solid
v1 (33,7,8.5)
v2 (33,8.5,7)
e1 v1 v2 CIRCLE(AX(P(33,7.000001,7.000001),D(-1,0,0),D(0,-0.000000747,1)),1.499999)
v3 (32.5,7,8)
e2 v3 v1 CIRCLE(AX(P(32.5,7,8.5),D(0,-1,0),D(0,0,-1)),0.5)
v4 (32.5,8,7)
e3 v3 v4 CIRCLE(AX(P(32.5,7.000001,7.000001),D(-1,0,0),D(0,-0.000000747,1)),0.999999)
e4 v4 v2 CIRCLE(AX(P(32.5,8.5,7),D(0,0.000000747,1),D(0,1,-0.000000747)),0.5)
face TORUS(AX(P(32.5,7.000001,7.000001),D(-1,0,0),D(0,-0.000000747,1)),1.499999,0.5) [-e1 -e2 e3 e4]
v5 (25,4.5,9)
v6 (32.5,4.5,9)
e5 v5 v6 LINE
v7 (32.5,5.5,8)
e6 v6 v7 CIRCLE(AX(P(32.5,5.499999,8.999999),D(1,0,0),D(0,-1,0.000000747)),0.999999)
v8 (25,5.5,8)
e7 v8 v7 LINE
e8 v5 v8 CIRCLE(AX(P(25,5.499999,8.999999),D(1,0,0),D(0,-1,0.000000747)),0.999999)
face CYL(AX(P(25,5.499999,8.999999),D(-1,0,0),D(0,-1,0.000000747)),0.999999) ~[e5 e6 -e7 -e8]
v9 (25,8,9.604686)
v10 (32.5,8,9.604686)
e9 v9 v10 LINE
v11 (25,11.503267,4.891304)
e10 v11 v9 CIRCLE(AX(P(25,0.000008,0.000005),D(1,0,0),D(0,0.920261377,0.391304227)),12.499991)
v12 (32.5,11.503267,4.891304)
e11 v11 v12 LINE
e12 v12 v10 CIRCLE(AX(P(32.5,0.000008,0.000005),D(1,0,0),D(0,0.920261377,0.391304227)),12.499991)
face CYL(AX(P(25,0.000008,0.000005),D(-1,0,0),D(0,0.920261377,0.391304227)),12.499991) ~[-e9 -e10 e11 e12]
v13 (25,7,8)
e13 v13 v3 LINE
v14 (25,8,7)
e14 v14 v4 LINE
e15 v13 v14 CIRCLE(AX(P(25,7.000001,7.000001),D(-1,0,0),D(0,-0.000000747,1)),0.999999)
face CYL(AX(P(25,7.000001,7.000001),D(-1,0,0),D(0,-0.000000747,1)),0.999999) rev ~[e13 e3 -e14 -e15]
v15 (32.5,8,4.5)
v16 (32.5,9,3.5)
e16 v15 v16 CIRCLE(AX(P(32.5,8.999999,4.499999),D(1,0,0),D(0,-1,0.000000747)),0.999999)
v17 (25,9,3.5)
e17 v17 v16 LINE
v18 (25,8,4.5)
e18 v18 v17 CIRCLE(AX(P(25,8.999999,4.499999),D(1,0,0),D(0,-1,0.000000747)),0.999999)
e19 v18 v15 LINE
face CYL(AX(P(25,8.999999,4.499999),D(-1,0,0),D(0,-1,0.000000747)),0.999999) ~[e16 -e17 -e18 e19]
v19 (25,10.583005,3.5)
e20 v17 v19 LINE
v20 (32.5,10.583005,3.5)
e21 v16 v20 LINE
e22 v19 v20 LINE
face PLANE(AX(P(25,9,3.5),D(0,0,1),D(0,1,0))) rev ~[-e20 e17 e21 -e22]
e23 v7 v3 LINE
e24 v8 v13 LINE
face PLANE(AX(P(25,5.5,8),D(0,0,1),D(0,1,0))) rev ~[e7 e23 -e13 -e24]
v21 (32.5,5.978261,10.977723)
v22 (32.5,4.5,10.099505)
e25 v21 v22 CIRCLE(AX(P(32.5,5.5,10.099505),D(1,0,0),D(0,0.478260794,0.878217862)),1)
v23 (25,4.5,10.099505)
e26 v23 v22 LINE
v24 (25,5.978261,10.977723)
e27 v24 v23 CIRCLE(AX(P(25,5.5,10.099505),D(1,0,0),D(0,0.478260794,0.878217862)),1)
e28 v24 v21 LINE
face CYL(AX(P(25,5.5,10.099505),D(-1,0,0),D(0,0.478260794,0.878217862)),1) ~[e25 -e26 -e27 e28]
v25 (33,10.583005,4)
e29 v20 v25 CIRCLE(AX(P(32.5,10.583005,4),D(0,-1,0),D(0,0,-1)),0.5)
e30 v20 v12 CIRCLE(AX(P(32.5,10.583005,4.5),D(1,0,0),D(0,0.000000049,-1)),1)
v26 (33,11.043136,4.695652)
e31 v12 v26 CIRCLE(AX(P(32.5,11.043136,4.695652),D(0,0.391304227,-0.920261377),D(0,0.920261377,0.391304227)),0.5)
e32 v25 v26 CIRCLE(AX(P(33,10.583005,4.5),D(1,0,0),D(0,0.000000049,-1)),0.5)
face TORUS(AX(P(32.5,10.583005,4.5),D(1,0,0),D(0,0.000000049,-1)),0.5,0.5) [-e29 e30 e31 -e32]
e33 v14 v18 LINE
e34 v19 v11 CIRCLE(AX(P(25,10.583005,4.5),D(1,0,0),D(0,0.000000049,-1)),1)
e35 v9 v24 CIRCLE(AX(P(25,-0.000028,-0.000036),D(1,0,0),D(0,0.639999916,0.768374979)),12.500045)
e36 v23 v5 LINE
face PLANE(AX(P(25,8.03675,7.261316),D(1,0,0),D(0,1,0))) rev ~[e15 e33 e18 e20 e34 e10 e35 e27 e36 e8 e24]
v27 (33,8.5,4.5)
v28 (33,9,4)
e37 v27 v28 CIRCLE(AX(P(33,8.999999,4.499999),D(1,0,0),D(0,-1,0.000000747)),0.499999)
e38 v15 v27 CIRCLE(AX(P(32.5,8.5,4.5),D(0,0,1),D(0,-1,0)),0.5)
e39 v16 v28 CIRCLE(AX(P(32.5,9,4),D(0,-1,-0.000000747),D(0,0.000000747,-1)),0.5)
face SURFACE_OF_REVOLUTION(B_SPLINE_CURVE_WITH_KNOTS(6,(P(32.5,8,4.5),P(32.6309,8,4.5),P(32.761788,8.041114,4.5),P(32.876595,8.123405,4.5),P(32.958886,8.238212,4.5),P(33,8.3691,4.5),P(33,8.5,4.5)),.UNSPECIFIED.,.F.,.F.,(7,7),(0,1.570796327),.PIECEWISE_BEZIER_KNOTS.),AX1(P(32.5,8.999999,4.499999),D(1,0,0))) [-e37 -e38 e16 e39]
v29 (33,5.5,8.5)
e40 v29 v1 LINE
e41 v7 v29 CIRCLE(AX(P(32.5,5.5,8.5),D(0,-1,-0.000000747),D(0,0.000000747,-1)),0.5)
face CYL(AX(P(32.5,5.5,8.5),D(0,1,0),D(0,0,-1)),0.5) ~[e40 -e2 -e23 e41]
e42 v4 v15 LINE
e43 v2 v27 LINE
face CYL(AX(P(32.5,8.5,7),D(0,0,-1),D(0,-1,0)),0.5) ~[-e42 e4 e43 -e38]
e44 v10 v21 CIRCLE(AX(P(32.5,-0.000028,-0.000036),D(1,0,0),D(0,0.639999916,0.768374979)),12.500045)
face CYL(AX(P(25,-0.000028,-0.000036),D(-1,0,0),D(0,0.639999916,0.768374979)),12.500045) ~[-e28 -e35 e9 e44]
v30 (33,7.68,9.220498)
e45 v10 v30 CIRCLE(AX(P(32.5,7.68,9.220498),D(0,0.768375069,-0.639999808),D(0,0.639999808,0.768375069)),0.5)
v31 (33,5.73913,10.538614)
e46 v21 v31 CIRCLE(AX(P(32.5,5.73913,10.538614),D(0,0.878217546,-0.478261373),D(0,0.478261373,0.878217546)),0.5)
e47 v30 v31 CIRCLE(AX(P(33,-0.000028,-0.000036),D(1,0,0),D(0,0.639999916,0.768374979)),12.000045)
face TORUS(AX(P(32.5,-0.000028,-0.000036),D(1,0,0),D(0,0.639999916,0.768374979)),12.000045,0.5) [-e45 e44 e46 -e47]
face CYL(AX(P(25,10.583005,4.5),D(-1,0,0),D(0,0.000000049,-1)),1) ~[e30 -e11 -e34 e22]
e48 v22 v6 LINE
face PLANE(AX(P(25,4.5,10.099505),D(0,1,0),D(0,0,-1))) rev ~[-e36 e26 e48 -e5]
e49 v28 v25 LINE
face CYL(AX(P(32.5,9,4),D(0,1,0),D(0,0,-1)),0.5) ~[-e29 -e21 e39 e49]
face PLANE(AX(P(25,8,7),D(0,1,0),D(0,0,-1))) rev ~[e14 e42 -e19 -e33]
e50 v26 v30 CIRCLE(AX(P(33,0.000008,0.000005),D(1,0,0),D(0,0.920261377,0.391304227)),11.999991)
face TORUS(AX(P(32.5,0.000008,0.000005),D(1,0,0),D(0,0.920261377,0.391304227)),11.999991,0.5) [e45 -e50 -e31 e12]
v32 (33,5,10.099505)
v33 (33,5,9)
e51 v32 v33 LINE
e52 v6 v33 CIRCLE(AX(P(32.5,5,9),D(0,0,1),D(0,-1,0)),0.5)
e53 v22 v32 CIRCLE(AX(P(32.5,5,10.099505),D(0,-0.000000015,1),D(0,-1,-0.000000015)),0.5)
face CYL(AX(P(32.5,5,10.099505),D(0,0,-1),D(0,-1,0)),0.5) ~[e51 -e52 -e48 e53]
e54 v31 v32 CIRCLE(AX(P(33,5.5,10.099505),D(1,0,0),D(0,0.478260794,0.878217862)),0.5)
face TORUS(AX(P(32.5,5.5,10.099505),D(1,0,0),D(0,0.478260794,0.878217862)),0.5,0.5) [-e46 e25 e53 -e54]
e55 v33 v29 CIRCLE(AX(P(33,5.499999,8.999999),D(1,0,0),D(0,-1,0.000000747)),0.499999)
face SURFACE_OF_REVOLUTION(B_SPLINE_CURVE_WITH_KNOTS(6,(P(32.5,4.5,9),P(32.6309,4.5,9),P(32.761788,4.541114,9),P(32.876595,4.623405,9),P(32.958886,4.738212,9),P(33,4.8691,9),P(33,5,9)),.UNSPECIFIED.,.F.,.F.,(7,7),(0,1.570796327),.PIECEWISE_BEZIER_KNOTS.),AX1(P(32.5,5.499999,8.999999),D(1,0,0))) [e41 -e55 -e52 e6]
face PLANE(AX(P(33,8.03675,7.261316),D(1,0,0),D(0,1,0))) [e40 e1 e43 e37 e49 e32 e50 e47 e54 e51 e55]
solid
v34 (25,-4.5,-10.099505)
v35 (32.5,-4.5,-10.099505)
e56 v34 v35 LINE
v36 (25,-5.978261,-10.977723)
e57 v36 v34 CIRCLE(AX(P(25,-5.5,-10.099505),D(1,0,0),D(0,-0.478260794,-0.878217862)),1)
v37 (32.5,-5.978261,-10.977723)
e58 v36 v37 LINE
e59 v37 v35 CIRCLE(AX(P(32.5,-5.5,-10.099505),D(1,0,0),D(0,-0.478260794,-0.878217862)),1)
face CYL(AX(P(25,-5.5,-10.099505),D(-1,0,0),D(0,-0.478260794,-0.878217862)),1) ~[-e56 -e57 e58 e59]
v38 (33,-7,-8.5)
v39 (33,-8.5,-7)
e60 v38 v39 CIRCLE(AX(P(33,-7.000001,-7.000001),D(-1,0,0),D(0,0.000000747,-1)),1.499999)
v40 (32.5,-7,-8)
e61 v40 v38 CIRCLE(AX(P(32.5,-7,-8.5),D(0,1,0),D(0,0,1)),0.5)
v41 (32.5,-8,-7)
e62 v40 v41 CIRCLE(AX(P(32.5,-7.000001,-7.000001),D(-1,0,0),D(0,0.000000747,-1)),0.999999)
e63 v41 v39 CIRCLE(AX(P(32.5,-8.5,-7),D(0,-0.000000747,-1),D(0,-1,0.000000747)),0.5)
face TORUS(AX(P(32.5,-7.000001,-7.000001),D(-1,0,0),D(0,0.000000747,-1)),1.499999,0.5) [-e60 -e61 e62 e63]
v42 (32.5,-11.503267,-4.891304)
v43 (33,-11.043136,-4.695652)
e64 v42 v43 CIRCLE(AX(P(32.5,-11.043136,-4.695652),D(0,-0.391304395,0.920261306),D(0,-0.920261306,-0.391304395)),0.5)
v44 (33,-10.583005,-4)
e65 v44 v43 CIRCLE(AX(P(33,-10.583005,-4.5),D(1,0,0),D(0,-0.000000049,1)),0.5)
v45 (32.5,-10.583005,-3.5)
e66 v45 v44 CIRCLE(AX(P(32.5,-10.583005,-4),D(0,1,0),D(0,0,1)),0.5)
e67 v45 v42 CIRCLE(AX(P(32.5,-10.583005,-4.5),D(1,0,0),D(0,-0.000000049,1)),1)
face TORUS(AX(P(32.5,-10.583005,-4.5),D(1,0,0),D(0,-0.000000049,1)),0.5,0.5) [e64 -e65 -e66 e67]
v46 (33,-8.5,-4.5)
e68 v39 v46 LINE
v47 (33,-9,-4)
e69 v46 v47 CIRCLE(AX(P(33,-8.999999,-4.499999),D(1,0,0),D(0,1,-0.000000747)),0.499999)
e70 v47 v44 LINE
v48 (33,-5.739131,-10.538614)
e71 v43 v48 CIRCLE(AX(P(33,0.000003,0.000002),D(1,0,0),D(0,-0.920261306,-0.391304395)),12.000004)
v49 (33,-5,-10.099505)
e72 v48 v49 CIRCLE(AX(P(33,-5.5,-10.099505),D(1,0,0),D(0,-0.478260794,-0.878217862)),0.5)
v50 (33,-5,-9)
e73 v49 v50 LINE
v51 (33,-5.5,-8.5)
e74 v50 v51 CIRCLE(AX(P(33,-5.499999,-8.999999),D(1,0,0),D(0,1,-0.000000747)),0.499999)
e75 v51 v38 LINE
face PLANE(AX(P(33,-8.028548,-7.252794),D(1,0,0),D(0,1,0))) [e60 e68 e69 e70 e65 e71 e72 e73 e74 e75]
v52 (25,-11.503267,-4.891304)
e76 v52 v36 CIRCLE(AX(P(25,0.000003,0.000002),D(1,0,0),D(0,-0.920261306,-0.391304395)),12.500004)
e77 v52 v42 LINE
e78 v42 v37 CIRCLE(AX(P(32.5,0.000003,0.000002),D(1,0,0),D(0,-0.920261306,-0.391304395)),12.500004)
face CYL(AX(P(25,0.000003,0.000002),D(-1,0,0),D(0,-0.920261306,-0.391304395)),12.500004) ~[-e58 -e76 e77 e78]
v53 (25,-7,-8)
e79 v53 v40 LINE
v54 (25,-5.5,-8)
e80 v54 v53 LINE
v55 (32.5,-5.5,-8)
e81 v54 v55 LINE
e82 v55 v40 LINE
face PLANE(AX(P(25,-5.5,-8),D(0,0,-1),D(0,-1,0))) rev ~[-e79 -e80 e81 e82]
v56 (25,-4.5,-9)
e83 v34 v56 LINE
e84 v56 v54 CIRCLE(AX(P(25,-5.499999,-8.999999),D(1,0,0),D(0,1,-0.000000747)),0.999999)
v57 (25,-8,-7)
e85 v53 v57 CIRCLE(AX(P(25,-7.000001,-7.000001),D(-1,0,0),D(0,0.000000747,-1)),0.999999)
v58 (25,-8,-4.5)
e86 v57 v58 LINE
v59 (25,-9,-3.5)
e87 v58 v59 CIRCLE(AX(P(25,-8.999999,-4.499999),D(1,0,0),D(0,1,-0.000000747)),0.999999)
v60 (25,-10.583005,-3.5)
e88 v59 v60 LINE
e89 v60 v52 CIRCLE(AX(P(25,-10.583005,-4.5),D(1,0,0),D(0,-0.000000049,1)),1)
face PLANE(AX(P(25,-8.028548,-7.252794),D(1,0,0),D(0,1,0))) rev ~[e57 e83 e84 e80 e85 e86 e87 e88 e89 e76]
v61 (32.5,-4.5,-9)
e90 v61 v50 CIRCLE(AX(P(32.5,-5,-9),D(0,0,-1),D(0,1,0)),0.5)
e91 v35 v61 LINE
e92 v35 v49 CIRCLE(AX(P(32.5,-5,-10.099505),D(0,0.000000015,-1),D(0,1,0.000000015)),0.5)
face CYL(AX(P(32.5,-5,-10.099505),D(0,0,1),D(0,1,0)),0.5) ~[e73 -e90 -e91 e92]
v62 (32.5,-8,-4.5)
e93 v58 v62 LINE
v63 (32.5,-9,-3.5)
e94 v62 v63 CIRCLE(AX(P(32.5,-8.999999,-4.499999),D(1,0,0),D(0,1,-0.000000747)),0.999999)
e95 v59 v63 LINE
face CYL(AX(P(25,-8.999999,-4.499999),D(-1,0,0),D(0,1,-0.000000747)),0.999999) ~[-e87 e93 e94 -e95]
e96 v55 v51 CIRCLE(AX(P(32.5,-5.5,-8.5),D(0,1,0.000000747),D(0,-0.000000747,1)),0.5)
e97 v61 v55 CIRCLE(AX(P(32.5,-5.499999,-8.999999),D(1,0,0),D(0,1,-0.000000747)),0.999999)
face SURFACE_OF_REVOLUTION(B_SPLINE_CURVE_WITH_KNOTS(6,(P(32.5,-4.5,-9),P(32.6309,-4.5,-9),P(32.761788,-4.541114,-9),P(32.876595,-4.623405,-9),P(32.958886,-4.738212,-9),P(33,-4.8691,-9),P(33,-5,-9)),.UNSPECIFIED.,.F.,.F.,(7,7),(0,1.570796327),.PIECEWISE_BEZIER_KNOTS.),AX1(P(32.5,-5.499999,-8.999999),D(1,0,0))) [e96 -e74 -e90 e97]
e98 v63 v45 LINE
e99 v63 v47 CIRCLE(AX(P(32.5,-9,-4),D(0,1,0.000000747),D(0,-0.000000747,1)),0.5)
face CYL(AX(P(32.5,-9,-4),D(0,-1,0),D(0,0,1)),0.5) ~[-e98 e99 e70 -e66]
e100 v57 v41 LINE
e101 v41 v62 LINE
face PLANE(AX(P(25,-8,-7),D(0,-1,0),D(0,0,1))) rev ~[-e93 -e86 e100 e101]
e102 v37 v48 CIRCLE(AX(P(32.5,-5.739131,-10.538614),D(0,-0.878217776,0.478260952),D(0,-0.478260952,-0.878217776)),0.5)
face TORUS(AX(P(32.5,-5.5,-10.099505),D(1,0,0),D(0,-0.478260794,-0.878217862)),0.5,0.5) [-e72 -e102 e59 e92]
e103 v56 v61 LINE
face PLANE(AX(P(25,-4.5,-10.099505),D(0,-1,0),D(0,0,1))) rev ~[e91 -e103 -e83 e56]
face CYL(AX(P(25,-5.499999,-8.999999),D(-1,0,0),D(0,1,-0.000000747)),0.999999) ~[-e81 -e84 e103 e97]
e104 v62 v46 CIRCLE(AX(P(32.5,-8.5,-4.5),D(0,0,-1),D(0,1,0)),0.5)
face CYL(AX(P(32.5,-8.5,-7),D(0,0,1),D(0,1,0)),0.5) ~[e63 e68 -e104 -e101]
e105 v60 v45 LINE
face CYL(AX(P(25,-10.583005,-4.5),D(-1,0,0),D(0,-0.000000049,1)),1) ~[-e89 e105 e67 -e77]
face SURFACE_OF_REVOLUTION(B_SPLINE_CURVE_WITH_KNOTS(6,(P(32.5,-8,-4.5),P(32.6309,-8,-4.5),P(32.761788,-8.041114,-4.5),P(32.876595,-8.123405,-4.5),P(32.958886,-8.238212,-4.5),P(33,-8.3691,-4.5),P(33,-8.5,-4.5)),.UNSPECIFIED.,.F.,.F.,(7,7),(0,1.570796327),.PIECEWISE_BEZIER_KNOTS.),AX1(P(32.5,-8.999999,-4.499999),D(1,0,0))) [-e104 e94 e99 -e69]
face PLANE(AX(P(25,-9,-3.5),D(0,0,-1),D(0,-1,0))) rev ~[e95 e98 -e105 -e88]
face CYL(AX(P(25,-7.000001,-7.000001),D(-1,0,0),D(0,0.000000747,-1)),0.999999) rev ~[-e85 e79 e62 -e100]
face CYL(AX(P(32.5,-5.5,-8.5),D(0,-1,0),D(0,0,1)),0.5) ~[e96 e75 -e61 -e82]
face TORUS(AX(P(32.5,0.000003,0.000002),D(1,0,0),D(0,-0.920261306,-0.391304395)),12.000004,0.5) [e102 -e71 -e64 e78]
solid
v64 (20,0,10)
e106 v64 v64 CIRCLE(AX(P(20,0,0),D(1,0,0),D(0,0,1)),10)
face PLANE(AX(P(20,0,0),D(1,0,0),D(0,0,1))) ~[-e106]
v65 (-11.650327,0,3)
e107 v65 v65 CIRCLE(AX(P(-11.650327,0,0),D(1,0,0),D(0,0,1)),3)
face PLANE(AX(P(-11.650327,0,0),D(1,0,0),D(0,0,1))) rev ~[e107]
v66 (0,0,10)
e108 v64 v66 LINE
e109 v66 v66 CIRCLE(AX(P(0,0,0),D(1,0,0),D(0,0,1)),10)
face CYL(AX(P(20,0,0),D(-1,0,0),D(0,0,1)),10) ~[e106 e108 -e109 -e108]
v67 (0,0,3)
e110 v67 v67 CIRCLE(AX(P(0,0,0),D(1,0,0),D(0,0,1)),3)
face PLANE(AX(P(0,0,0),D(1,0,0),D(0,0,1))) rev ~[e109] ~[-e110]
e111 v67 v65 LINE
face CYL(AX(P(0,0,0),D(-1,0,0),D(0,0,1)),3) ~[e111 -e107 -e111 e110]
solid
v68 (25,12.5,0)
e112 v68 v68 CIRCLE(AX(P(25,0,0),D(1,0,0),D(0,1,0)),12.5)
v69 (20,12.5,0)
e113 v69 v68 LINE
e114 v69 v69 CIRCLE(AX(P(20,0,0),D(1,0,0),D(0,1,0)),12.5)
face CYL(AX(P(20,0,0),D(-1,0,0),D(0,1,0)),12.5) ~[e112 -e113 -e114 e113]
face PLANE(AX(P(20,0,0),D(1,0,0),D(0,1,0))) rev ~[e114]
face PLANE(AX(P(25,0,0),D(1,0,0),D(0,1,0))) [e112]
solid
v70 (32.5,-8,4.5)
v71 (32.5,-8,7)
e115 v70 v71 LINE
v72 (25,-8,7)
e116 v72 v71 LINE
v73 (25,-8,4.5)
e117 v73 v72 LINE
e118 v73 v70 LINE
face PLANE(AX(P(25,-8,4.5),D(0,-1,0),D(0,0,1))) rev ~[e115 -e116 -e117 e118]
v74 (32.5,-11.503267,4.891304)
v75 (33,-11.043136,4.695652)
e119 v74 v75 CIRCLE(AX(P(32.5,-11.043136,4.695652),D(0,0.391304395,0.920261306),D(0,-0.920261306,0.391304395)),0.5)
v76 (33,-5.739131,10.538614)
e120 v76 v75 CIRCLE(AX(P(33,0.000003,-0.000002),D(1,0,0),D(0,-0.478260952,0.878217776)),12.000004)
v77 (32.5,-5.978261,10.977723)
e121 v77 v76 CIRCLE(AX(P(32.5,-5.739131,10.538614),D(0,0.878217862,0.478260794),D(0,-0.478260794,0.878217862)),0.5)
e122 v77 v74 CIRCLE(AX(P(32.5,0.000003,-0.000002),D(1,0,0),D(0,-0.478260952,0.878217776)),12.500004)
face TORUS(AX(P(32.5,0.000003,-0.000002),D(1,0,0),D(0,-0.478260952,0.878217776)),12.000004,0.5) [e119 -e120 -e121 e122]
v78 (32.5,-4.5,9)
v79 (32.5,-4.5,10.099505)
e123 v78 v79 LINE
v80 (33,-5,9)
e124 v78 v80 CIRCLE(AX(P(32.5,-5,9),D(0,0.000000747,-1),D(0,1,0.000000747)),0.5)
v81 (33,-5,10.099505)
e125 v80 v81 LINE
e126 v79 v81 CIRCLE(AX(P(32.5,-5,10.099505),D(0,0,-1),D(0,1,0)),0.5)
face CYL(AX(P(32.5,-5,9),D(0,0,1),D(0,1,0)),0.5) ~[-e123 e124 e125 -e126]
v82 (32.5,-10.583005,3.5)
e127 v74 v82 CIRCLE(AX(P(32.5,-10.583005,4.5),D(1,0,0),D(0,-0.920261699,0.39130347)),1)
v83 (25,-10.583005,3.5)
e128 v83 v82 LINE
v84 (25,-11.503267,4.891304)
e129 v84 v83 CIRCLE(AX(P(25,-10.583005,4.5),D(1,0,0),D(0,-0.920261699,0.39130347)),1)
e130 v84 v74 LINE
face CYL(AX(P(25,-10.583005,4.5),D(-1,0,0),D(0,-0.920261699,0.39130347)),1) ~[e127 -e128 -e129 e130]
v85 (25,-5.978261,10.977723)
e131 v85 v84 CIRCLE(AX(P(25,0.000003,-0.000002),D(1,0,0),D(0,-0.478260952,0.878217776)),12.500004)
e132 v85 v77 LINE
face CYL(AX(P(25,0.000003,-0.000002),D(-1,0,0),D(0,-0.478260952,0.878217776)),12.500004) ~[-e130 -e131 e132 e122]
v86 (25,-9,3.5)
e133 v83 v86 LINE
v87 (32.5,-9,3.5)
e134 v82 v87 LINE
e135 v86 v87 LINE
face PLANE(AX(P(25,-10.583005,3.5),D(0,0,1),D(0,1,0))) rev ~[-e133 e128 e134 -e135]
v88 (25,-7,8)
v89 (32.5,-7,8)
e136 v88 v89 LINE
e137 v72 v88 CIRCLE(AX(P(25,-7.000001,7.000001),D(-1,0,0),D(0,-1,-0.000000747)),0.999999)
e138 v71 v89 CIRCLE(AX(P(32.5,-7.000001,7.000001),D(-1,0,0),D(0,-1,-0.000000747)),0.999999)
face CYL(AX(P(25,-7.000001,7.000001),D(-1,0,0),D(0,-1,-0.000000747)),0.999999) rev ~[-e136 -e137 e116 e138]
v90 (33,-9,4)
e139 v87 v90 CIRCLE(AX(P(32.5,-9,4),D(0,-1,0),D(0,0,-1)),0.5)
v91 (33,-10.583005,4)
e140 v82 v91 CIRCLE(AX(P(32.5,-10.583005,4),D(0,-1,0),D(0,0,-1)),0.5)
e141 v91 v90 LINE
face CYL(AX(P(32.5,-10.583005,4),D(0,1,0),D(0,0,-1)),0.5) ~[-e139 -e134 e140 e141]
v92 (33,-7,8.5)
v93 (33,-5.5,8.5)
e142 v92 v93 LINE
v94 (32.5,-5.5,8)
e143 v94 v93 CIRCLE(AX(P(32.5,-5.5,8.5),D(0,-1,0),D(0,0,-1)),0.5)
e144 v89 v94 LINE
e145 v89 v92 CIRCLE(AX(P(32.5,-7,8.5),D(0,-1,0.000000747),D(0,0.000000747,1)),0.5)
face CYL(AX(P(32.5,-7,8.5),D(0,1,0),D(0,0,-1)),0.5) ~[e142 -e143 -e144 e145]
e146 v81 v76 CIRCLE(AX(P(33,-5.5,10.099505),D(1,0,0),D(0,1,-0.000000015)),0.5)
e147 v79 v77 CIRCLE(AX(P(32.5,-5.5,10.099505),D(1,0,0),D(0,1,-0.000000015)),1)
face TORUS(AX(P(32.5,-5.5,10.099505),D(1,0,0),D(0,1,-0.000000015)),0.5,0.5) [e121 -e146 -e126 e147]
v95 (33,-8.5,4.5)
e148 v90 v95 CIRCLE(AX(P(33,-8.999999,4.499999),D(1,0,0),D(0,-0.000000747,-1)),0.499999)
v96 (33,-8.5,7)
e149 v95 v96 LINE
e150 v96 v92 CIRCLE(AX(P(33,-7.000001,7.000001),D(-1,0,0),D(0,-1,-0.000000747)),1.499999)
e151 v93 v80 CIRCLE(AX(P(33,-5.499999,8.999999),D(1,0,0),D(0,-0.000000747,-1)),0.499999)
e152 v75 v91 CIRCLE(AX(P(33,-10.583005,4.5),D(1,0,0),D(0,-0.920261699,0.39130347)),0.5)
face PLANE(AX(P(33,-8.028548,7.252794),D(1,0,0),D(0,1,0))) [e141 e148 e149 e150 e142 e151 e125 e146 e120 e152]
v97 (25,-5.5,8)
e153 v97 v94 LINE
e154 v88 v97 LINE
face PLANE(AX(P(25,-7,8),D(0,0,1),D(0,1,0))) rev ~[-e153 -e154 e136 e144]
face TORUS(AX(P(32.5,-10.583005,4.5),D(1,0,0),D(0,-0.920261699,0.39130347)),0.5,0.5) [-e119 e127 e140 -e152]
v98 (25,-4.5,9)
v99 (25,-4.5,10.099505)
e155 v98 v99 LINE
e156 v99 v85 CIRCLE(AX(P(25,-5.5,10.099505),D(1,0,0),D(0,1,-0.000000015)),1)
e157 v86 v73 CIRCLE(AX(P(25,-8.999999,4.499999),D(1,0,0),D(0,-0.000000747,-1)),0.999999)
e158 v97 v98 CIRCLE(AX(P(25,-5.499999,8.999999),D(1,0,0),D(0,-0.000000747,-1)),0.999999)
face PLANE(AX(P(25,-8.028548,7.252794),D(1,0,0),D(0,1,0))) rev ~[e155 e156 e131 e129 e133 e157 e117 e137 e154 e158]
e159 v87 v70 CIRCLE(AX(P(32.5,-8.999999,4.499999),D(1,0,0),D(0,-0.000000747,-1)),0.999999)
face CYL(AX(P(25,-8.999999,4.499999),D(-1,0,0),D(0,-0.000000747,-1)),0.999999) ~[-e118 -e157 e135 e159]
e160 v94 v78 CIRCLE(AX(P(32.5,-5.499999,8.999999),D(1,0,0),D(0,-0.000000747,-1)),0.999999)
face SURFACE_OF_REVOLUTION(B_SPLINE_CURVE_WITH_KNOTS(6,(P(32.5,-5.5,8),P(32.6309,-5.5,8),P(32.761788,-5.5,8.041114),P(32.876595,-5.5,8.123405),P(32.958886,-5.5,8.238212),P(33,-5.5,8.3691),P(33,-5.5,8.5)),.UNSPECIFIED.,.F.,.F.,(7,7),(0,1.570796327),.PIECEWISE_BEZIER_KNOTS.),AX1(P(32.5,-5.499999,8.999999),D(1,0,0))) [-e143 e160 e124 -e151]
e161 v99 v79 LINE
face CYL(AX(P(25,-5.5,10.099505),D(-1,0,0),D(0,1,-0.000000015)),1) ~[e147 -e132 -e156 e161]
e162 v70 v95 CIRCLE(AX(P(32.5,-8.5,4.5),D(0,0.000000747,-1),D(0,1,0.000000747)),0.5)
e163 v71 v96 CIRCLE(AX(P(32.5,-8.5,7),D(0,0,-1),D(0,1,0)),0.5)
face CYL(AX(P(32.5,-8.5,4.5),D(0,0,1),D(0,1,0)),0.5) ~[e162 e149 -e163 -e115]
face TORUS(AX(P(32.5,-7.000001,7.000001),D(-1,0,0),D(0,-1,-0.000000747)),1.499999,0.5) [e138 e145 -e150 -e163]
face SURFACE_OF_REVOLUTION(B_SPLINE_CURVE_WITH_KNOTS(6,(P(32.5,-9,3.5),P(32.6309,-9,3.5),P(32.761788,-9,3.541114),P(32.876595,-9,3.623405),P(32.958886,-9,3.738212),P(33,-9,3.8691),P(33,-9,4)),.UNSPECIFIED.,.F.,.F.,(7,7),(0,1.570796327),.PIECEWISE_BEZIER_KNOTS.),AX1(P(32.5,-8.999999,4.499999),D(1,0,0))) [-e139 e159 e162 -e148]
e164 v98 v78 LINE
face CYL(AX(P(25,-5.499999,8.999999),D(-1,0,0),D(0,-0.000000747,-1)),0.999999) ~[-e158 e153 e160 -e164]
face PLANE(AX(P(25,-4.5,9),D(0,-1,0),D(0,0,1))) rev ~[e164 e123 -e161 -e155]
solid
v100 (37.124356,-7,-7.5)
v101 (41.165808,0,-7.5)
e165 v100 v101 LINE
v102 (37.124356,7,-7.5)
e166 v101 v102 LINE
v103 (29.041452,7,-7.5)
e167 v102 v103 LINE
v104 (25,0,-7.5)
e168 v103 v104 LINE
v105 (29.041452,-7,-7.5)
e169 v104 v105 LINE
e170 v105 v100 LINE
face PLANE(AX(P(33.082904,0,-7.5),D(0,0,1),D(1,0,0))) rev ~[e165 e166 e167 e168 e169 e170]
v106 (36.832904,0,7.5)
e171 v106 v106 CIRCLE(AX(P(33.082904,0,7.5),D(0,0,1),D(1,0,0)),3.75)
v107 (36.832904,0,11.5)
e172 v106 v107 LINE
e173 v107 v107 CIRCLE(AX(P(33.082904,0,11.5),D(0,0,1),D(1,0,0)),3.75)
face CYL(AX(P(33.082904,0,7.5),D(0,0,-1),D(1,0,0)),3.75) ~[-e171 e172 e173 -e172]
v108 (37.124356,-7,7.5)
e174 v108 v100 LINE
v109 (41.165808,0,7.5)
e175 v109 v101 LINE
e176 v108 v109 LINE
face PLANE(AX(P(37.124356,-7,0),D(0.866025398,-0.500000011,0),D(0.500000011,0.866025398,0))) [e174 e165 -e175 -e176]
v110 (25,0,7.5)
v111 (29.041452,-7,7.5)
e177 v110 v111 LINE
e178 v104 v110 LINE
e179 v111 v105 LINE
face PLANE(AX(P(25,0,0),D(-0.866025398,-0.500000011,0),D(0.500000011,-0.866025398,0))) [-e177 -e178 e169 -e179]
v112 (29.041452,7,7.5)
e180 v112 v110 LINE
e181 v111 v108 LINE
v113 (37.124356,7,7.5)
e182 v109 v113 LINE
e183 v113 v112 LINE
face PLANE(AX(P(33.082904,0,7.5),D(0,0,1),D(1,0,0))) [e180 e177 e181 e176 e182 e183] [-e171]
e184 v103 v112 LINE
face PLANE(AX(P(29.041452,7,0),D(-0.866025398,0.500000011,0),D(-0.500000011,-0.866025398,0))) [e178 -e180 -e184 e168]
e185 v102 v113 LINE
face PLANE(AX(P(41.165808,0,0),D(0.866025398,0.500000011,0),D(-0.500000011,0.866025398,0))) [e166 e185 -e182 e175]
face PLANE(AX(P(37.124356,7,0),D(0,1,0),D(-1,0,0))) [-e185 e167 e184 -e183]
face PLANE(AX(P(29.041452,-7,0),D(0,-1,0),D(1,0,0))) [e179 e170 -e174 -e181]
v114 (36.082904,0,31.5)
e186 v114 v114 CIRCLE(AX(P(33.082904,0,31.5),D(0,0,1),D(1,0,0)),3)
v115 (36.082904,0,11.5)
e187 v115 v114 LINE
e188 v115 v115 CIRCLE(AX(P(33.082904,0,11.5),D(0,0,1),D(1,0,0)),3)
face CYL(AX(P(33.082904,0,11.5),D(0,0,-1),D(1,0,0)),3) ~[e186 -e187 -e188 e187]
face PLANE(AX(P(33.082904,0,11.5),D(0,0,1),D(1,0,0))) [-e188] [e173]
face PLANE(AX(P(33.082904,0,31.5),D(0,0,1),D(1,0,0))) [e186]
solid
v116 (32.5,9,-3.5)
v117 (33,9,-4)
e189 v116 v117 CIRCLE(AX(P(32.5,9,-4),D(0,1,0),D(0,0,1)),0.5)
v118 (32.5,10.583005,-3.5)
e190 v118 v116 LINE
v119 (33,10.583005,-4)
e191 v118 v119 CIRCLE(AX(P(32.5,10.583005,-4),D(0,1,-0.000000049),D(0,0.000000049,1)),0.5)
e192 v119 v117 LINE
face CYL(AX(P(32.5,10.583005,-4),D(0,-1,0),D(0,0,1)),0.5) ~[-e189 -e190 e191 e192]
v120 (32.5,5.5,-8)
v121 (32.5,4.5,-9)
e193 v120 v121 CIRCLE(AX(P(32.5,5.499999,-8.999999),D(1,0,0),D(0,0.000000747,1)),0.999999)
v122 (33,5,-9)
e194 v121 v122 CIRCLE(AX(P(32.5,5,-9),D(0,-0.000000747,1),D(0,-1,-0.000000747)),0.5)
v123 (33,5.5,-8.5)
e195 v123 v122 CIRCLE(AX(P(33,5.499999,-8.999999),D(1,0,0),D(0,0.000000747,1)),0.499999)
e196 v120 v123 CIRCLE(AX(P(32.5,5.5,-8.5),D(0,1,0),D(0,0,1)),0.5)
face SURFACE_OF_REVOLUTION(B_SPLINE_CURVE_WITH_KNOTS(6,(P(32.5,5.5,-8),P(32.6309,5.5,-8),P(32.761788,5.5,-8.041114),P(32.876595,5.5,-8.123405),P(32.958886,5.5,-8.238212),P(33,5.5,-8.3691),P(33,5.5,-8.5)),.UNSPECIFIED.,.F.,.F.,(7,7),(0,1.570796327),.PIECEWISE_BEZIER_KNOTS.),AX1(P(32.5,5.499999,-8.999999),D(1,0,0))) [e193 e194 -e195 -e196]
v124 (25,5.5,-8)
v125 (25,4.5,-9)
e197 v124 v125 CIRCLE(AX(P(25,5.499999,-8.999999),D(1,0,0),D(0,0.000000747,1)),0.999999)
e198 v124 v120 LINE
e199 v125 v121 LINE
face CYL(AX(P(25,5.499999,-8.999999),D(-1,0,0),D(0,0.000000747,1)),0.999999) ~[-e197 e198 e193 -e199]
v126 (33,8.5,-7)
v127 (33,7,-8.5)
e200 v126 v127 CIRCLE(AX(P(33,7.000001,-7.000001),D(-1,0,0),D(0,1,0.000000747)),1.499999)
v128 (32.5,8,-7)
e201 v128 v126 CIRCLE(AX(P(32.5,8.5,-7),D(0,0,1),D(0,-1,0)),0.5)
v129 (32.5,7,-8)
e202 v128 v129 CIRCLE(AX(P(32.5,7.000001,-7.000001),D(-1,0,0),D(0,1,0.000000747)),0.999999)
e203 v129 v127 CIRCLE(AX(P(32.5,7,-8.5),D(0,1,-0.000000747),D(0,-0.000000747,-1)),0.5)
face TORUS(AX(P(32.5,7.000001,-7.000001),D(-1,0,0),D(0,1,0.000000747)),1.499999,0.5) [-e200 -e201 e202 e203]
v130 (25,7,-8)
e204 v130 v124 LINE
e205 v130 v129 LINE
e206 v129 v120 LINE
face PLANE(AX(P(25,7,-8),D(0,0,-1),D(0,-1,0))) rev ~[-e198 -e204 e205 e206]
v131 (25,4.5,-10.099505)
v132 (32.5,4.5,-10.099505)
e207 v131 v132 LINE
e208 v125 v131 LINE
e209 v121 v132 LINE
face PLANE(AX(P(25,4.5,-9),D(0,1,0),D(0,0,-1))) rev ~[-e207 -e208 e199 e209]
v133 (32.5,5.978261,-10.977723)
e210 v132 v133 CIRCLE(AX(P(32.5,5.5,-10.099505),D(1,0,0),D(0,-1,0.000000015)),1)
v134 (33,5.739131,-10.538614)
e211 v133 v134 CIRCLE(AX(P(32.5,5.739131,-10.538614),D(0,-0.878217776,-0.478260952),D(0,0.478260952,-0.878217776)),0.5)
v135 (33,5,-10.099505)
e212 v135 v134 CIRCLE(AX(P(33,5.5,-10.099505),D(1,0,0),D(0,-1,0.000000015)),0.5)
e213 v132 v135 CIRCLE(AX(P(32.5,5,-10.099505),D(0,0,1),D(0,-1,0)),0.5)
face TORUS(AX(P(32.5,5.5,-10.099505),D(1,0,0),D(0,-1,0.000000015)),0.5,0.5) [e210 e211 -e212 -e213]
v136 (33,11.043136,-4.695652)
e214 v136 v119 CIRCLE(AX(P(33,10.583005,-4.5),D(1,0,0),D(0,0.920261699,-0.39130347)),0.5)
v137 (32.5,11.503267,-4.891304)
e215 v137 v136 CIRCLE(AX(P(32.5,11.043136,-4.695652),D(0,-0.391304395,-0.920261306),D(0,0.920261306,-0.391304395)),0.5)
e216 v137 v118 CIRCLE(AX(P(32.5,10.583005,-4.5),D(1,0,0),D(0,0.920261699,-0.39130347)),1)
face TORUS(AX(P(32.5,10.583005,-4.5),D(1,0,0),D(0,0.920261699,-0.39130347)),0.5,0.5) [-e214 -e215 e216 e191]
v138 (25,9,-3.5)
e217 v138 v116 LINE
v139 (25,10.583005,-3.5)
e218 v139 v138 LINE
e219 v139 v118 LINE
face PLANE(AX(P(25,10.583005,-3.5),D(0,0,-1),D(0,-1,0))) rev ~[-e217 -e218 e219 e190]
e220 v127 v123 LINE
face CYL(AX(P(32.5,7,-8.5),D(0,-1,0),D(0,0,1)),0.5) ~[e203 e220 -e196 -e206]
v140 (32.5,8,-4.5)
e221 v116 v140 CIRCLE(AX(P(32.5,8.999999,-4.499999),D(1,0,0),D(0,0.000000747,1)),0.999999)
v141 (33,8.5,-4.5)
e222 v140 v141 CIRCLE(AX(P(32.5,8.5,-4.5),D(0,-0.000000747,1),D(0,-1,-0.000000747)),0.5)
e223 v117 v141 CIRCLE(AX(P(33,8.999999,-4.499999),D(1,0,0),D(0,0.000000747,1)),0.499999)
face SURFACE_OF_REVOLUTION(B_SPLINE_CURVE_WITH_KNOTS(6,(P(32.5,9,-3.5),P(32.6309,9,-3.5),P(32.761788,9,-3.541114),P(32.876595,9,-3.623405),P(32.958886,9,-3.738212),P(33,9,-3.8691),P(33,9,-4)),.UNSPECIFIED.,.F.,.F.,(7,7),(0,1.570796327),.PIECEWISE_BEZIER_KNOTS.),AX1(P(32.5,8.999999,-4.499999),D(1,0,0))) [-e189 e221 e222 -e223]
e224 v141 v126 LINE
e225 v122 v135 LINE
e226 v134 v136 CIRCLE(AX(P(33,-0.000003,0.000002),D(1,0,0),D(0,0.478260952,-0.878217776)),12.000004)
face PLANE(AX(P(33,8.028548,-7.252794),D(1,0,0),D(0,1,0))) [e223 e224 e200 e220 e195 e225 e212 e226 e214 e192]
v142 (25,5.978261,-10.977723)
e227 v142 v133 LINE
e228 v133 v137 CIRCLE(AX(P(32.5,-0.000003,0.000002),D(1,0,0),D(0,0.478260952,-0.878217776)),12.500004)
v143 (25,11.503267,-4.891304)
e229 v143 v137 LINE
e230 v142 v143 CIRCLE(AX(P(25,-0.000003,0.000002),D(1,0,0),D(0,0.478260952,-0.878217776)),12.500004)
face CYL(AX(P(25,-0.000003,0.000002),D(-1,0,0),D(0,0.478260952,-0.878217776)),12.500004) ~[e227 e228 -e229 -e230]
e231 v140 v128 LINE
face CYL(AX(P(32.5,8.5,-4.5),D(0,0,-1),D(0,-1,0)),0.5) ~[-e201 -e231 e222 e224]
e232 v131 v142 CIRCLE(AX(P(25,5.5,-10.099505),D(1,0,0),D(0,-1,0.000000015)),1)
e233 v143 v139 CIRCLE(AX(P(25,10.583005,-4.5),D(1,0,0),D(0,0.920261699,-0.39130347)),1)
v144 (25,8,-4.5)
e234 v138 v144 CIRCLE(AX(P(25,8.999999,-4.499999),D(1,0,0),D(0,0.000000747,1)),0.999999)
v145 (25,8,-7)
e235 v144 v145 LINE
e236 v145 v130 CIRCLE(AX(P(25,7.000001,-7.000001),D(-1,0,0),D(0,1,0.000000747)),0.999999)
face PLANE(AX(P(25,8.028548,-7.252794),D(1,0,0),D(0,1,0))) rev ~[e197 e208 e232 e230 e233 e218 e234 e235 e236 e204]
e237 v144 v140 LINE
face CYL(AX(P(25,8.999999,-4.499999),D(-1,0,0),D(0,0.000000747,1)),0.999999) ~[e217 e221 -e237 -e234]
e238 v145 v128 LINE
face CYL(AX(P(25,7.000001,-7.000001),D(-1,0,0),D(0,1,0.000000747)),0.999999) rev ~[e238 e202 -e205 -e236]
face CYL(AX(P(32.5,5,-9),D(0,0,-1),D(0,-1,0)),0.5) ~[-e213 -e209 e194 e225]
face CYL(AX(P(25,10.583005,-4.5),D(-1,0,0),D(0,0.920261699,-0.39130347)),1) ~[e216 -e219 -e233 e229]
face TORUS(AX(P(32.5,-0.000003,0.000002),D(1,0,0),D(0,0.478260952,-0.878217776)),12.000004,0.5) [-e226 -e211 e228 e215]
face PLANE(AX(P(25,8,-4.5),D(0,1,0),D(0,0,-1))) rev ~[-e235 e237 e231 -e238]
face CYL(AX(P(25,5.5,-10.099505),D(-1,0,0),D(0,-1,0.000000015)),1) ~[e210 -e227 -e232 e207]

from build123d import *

# Parameters (mm, degrees)
F4_DEPTH  = 7.5
F5_R      = 12.5
F6_DEPTH  = 5
F8_DEPTH  = 8
F9_R      = 0.5
F10_R     = 3.75
F11_DEPTH = 4
F12_R     = 3
F13_DEPTH = 20


with BuildPart() as f1:
    # F0 (on Front) → F1 (revolve)
    with BuildSketch(Plane.XZ):
        Polygon((20, 10), (0, 10), (0, 3), (-11.650327, 3), (-11.650327, 0), (0, 0), (20, 0), align=None)
    revolve(axis=Axis((25.892217, 0, 0), (1, 0, 0)))


with BuildPart() as f4:
    # F3 (on Top) → F4 (new body, symmetric)
    with BuildSketch(Plane.XY):
        Polygon((41.165808, 0), (37.124356, 7), (29.041452, 7), (25, 0), (29.041452, -7), (37.124356, -7), align=None)
    extrude(amount=F4_DEPTH, both=True)

    # F10 (on face) → F11 (join)
    with BuildSketch(Plane.XY.offset(7.5)):
        with Locations((33.082904, 0)):
            Circle(F10_R)
    extrude(amount=F11_DEPTH)

    # F12 (on face) → F13 (join)
    with BuildSketch(Plane.XY.offset(11.5)):
        with Locations((33.082904, 0)):
            Circle(F12_R)
    extrude(amount=F13_DEPTH)


with BuildPart() as f6:
    # F5 (on face) → F6 (new body)
    with BuildSketch(Plane.YZ.offset(20)):
        Circle(F5_R)
    extrude(amount=F6_DEPTH)


with BuildPart() as f8:
    # F7 (on face) → F8 (new body)
    with BuildSketch(Plane.YZ.offset(25)):
        with BuildLine():
            Line((-4.5, -10.099505), (-4.5, -9))
            ThreePointArc((-4.5, -9), (-4.792893, -8.292893), (-5.5, -8))
            Line((-5.5, -8), (-7, -8))
            ThreePointArc((-7, -8), (-7.707107, -7.707107), (-8, -7))
            Line((-8, -7), (-8, -4.5))
            ThreePointArc((-8, -4.5), (-8.292893, -3.792893), (-9, -3.5))
            Line((-9, -3.5), (-10.583005, -3.5))
            ThreePointArc((-10.583005, -3.5), (-11.417063, -3.948323), (-11.503267, -4.891304))
            ThreePointArc((-11.503267, -4.891304), (-9.255381, -8.401662), (-5.978261, -10.977723))
            ThreePointArc((-5.978261, -10.977723), (-4.989246, -10.959232), (-4.5, -10.099505))
        make_face()
        with BuildLine():
            ThreePointArc((4.5, -10.099505), (4.989246, -10.959232), (5.978261, -10.977723))
            ThreePointArc((5.978261, -10.977723), (9.255381, -8.401662), (11.503267, -4.891304))
            ThreePointArc((11.503267, -4.891304), (11.417063, -3.948323), (10.583005, -3.5))
            Line((10.583005, -3.5), (9, -3.5))
            ThreePointArc((9, -3.5), (8.292893, -3.792893), (8, -4.5))
            Line((8, -4.5), (8, -7))
            ThreePointArc((8, -7), (7.707107, -7.707107), (7, -8))
            Line((7, -8), (5.5, -8))
            ThreePointArc((5.5, -8), (4.792893, -8.292893), (4.5, -9))
            Line((4.5, -9), (4.5, -10.099505))
        make_face()
        with BuildLine():
            ThreePointArc((10.583005, 3.5), (11.417063, 3.948323), (11.503267, 4.891304))
            ThreePointArc((11.503267, 4.891304), (10.032365, 7.456652), (8, 9.604686))
            ThreePointArc((8, 9.604686), (7.022767, 10.340732), (5.978261, 10.977723))
            ThreePointArc((5.978261, 10.977723), (4.989246, 10.959232), (4.5, 10.099505))
            Line((4.5, 10.099505), (4.5, 9))
            ThreePointArc((4.5, 9), (4.792893, 8.292893), (5.5, 8))
            Line((5.5, 8), (7, 8))
            ThreePointArc((7, 8), (7.707107, 7.707107), (8, 7))
            Line((8, 7), (8, 4.5))
            ThreePointArc((8, 4.5), (8.292893, 3.792893), (9, 3.5))
            Line((9, 3.5), (10.583005, 3.5))
        make_face()
        with BuildLine():
            ThreePointArc((-11.503267, 4.891304), (-11.417063, 3.948323), (-10.583005, 3.5))
            Line((-10.583005, 3.5), (-9, 3.5))
            ThreePointArc((-9, 3.5), (-8.292893, 3.792893), (-8, 4.5))
            Line((-8, 4.5), (-8, 7))
            ThreePointArc((-8, 7), (-7.707107, 7.707107), (-7, 8))
            Line((-7, 8), (-5.5, 8))
            ThreePointArc((-5.5, 8), (-4.792893, 8.292893), (-4.5, 9))
            Line((-4.5, 9), (-4.5, 10.099505))
            ThreePointArc((-4.5, 10.099505), (-4.989246, 10.959232), (-5.978261, 10.977723))
            ThreePointArc((-5.978261, 10.977723), (-9.255381, 8.401662), (-11.503267, 4.891304))
        make_face()
    extrude(amount=F8_DEPTH)

    # F9
    f9_edges = [f8.edges().sort_by_distance(p)[0] for p in [
        (33, -9.791503, 3.5),
        (33, -11.417063, 3.948323),
        (33, -9.255381, 8.401662),
        (33, -4.989246, 10.959232),
        (33, -9.255381, -8.401662),
        (33, 9.255381, -8.401662),
        (33, 9.255381, 8.401662),
    ]]
    fillet(f9_edges, radius=F9_R)


solid = Compound([f1.part, f4.part, f6.part, f8.part])
